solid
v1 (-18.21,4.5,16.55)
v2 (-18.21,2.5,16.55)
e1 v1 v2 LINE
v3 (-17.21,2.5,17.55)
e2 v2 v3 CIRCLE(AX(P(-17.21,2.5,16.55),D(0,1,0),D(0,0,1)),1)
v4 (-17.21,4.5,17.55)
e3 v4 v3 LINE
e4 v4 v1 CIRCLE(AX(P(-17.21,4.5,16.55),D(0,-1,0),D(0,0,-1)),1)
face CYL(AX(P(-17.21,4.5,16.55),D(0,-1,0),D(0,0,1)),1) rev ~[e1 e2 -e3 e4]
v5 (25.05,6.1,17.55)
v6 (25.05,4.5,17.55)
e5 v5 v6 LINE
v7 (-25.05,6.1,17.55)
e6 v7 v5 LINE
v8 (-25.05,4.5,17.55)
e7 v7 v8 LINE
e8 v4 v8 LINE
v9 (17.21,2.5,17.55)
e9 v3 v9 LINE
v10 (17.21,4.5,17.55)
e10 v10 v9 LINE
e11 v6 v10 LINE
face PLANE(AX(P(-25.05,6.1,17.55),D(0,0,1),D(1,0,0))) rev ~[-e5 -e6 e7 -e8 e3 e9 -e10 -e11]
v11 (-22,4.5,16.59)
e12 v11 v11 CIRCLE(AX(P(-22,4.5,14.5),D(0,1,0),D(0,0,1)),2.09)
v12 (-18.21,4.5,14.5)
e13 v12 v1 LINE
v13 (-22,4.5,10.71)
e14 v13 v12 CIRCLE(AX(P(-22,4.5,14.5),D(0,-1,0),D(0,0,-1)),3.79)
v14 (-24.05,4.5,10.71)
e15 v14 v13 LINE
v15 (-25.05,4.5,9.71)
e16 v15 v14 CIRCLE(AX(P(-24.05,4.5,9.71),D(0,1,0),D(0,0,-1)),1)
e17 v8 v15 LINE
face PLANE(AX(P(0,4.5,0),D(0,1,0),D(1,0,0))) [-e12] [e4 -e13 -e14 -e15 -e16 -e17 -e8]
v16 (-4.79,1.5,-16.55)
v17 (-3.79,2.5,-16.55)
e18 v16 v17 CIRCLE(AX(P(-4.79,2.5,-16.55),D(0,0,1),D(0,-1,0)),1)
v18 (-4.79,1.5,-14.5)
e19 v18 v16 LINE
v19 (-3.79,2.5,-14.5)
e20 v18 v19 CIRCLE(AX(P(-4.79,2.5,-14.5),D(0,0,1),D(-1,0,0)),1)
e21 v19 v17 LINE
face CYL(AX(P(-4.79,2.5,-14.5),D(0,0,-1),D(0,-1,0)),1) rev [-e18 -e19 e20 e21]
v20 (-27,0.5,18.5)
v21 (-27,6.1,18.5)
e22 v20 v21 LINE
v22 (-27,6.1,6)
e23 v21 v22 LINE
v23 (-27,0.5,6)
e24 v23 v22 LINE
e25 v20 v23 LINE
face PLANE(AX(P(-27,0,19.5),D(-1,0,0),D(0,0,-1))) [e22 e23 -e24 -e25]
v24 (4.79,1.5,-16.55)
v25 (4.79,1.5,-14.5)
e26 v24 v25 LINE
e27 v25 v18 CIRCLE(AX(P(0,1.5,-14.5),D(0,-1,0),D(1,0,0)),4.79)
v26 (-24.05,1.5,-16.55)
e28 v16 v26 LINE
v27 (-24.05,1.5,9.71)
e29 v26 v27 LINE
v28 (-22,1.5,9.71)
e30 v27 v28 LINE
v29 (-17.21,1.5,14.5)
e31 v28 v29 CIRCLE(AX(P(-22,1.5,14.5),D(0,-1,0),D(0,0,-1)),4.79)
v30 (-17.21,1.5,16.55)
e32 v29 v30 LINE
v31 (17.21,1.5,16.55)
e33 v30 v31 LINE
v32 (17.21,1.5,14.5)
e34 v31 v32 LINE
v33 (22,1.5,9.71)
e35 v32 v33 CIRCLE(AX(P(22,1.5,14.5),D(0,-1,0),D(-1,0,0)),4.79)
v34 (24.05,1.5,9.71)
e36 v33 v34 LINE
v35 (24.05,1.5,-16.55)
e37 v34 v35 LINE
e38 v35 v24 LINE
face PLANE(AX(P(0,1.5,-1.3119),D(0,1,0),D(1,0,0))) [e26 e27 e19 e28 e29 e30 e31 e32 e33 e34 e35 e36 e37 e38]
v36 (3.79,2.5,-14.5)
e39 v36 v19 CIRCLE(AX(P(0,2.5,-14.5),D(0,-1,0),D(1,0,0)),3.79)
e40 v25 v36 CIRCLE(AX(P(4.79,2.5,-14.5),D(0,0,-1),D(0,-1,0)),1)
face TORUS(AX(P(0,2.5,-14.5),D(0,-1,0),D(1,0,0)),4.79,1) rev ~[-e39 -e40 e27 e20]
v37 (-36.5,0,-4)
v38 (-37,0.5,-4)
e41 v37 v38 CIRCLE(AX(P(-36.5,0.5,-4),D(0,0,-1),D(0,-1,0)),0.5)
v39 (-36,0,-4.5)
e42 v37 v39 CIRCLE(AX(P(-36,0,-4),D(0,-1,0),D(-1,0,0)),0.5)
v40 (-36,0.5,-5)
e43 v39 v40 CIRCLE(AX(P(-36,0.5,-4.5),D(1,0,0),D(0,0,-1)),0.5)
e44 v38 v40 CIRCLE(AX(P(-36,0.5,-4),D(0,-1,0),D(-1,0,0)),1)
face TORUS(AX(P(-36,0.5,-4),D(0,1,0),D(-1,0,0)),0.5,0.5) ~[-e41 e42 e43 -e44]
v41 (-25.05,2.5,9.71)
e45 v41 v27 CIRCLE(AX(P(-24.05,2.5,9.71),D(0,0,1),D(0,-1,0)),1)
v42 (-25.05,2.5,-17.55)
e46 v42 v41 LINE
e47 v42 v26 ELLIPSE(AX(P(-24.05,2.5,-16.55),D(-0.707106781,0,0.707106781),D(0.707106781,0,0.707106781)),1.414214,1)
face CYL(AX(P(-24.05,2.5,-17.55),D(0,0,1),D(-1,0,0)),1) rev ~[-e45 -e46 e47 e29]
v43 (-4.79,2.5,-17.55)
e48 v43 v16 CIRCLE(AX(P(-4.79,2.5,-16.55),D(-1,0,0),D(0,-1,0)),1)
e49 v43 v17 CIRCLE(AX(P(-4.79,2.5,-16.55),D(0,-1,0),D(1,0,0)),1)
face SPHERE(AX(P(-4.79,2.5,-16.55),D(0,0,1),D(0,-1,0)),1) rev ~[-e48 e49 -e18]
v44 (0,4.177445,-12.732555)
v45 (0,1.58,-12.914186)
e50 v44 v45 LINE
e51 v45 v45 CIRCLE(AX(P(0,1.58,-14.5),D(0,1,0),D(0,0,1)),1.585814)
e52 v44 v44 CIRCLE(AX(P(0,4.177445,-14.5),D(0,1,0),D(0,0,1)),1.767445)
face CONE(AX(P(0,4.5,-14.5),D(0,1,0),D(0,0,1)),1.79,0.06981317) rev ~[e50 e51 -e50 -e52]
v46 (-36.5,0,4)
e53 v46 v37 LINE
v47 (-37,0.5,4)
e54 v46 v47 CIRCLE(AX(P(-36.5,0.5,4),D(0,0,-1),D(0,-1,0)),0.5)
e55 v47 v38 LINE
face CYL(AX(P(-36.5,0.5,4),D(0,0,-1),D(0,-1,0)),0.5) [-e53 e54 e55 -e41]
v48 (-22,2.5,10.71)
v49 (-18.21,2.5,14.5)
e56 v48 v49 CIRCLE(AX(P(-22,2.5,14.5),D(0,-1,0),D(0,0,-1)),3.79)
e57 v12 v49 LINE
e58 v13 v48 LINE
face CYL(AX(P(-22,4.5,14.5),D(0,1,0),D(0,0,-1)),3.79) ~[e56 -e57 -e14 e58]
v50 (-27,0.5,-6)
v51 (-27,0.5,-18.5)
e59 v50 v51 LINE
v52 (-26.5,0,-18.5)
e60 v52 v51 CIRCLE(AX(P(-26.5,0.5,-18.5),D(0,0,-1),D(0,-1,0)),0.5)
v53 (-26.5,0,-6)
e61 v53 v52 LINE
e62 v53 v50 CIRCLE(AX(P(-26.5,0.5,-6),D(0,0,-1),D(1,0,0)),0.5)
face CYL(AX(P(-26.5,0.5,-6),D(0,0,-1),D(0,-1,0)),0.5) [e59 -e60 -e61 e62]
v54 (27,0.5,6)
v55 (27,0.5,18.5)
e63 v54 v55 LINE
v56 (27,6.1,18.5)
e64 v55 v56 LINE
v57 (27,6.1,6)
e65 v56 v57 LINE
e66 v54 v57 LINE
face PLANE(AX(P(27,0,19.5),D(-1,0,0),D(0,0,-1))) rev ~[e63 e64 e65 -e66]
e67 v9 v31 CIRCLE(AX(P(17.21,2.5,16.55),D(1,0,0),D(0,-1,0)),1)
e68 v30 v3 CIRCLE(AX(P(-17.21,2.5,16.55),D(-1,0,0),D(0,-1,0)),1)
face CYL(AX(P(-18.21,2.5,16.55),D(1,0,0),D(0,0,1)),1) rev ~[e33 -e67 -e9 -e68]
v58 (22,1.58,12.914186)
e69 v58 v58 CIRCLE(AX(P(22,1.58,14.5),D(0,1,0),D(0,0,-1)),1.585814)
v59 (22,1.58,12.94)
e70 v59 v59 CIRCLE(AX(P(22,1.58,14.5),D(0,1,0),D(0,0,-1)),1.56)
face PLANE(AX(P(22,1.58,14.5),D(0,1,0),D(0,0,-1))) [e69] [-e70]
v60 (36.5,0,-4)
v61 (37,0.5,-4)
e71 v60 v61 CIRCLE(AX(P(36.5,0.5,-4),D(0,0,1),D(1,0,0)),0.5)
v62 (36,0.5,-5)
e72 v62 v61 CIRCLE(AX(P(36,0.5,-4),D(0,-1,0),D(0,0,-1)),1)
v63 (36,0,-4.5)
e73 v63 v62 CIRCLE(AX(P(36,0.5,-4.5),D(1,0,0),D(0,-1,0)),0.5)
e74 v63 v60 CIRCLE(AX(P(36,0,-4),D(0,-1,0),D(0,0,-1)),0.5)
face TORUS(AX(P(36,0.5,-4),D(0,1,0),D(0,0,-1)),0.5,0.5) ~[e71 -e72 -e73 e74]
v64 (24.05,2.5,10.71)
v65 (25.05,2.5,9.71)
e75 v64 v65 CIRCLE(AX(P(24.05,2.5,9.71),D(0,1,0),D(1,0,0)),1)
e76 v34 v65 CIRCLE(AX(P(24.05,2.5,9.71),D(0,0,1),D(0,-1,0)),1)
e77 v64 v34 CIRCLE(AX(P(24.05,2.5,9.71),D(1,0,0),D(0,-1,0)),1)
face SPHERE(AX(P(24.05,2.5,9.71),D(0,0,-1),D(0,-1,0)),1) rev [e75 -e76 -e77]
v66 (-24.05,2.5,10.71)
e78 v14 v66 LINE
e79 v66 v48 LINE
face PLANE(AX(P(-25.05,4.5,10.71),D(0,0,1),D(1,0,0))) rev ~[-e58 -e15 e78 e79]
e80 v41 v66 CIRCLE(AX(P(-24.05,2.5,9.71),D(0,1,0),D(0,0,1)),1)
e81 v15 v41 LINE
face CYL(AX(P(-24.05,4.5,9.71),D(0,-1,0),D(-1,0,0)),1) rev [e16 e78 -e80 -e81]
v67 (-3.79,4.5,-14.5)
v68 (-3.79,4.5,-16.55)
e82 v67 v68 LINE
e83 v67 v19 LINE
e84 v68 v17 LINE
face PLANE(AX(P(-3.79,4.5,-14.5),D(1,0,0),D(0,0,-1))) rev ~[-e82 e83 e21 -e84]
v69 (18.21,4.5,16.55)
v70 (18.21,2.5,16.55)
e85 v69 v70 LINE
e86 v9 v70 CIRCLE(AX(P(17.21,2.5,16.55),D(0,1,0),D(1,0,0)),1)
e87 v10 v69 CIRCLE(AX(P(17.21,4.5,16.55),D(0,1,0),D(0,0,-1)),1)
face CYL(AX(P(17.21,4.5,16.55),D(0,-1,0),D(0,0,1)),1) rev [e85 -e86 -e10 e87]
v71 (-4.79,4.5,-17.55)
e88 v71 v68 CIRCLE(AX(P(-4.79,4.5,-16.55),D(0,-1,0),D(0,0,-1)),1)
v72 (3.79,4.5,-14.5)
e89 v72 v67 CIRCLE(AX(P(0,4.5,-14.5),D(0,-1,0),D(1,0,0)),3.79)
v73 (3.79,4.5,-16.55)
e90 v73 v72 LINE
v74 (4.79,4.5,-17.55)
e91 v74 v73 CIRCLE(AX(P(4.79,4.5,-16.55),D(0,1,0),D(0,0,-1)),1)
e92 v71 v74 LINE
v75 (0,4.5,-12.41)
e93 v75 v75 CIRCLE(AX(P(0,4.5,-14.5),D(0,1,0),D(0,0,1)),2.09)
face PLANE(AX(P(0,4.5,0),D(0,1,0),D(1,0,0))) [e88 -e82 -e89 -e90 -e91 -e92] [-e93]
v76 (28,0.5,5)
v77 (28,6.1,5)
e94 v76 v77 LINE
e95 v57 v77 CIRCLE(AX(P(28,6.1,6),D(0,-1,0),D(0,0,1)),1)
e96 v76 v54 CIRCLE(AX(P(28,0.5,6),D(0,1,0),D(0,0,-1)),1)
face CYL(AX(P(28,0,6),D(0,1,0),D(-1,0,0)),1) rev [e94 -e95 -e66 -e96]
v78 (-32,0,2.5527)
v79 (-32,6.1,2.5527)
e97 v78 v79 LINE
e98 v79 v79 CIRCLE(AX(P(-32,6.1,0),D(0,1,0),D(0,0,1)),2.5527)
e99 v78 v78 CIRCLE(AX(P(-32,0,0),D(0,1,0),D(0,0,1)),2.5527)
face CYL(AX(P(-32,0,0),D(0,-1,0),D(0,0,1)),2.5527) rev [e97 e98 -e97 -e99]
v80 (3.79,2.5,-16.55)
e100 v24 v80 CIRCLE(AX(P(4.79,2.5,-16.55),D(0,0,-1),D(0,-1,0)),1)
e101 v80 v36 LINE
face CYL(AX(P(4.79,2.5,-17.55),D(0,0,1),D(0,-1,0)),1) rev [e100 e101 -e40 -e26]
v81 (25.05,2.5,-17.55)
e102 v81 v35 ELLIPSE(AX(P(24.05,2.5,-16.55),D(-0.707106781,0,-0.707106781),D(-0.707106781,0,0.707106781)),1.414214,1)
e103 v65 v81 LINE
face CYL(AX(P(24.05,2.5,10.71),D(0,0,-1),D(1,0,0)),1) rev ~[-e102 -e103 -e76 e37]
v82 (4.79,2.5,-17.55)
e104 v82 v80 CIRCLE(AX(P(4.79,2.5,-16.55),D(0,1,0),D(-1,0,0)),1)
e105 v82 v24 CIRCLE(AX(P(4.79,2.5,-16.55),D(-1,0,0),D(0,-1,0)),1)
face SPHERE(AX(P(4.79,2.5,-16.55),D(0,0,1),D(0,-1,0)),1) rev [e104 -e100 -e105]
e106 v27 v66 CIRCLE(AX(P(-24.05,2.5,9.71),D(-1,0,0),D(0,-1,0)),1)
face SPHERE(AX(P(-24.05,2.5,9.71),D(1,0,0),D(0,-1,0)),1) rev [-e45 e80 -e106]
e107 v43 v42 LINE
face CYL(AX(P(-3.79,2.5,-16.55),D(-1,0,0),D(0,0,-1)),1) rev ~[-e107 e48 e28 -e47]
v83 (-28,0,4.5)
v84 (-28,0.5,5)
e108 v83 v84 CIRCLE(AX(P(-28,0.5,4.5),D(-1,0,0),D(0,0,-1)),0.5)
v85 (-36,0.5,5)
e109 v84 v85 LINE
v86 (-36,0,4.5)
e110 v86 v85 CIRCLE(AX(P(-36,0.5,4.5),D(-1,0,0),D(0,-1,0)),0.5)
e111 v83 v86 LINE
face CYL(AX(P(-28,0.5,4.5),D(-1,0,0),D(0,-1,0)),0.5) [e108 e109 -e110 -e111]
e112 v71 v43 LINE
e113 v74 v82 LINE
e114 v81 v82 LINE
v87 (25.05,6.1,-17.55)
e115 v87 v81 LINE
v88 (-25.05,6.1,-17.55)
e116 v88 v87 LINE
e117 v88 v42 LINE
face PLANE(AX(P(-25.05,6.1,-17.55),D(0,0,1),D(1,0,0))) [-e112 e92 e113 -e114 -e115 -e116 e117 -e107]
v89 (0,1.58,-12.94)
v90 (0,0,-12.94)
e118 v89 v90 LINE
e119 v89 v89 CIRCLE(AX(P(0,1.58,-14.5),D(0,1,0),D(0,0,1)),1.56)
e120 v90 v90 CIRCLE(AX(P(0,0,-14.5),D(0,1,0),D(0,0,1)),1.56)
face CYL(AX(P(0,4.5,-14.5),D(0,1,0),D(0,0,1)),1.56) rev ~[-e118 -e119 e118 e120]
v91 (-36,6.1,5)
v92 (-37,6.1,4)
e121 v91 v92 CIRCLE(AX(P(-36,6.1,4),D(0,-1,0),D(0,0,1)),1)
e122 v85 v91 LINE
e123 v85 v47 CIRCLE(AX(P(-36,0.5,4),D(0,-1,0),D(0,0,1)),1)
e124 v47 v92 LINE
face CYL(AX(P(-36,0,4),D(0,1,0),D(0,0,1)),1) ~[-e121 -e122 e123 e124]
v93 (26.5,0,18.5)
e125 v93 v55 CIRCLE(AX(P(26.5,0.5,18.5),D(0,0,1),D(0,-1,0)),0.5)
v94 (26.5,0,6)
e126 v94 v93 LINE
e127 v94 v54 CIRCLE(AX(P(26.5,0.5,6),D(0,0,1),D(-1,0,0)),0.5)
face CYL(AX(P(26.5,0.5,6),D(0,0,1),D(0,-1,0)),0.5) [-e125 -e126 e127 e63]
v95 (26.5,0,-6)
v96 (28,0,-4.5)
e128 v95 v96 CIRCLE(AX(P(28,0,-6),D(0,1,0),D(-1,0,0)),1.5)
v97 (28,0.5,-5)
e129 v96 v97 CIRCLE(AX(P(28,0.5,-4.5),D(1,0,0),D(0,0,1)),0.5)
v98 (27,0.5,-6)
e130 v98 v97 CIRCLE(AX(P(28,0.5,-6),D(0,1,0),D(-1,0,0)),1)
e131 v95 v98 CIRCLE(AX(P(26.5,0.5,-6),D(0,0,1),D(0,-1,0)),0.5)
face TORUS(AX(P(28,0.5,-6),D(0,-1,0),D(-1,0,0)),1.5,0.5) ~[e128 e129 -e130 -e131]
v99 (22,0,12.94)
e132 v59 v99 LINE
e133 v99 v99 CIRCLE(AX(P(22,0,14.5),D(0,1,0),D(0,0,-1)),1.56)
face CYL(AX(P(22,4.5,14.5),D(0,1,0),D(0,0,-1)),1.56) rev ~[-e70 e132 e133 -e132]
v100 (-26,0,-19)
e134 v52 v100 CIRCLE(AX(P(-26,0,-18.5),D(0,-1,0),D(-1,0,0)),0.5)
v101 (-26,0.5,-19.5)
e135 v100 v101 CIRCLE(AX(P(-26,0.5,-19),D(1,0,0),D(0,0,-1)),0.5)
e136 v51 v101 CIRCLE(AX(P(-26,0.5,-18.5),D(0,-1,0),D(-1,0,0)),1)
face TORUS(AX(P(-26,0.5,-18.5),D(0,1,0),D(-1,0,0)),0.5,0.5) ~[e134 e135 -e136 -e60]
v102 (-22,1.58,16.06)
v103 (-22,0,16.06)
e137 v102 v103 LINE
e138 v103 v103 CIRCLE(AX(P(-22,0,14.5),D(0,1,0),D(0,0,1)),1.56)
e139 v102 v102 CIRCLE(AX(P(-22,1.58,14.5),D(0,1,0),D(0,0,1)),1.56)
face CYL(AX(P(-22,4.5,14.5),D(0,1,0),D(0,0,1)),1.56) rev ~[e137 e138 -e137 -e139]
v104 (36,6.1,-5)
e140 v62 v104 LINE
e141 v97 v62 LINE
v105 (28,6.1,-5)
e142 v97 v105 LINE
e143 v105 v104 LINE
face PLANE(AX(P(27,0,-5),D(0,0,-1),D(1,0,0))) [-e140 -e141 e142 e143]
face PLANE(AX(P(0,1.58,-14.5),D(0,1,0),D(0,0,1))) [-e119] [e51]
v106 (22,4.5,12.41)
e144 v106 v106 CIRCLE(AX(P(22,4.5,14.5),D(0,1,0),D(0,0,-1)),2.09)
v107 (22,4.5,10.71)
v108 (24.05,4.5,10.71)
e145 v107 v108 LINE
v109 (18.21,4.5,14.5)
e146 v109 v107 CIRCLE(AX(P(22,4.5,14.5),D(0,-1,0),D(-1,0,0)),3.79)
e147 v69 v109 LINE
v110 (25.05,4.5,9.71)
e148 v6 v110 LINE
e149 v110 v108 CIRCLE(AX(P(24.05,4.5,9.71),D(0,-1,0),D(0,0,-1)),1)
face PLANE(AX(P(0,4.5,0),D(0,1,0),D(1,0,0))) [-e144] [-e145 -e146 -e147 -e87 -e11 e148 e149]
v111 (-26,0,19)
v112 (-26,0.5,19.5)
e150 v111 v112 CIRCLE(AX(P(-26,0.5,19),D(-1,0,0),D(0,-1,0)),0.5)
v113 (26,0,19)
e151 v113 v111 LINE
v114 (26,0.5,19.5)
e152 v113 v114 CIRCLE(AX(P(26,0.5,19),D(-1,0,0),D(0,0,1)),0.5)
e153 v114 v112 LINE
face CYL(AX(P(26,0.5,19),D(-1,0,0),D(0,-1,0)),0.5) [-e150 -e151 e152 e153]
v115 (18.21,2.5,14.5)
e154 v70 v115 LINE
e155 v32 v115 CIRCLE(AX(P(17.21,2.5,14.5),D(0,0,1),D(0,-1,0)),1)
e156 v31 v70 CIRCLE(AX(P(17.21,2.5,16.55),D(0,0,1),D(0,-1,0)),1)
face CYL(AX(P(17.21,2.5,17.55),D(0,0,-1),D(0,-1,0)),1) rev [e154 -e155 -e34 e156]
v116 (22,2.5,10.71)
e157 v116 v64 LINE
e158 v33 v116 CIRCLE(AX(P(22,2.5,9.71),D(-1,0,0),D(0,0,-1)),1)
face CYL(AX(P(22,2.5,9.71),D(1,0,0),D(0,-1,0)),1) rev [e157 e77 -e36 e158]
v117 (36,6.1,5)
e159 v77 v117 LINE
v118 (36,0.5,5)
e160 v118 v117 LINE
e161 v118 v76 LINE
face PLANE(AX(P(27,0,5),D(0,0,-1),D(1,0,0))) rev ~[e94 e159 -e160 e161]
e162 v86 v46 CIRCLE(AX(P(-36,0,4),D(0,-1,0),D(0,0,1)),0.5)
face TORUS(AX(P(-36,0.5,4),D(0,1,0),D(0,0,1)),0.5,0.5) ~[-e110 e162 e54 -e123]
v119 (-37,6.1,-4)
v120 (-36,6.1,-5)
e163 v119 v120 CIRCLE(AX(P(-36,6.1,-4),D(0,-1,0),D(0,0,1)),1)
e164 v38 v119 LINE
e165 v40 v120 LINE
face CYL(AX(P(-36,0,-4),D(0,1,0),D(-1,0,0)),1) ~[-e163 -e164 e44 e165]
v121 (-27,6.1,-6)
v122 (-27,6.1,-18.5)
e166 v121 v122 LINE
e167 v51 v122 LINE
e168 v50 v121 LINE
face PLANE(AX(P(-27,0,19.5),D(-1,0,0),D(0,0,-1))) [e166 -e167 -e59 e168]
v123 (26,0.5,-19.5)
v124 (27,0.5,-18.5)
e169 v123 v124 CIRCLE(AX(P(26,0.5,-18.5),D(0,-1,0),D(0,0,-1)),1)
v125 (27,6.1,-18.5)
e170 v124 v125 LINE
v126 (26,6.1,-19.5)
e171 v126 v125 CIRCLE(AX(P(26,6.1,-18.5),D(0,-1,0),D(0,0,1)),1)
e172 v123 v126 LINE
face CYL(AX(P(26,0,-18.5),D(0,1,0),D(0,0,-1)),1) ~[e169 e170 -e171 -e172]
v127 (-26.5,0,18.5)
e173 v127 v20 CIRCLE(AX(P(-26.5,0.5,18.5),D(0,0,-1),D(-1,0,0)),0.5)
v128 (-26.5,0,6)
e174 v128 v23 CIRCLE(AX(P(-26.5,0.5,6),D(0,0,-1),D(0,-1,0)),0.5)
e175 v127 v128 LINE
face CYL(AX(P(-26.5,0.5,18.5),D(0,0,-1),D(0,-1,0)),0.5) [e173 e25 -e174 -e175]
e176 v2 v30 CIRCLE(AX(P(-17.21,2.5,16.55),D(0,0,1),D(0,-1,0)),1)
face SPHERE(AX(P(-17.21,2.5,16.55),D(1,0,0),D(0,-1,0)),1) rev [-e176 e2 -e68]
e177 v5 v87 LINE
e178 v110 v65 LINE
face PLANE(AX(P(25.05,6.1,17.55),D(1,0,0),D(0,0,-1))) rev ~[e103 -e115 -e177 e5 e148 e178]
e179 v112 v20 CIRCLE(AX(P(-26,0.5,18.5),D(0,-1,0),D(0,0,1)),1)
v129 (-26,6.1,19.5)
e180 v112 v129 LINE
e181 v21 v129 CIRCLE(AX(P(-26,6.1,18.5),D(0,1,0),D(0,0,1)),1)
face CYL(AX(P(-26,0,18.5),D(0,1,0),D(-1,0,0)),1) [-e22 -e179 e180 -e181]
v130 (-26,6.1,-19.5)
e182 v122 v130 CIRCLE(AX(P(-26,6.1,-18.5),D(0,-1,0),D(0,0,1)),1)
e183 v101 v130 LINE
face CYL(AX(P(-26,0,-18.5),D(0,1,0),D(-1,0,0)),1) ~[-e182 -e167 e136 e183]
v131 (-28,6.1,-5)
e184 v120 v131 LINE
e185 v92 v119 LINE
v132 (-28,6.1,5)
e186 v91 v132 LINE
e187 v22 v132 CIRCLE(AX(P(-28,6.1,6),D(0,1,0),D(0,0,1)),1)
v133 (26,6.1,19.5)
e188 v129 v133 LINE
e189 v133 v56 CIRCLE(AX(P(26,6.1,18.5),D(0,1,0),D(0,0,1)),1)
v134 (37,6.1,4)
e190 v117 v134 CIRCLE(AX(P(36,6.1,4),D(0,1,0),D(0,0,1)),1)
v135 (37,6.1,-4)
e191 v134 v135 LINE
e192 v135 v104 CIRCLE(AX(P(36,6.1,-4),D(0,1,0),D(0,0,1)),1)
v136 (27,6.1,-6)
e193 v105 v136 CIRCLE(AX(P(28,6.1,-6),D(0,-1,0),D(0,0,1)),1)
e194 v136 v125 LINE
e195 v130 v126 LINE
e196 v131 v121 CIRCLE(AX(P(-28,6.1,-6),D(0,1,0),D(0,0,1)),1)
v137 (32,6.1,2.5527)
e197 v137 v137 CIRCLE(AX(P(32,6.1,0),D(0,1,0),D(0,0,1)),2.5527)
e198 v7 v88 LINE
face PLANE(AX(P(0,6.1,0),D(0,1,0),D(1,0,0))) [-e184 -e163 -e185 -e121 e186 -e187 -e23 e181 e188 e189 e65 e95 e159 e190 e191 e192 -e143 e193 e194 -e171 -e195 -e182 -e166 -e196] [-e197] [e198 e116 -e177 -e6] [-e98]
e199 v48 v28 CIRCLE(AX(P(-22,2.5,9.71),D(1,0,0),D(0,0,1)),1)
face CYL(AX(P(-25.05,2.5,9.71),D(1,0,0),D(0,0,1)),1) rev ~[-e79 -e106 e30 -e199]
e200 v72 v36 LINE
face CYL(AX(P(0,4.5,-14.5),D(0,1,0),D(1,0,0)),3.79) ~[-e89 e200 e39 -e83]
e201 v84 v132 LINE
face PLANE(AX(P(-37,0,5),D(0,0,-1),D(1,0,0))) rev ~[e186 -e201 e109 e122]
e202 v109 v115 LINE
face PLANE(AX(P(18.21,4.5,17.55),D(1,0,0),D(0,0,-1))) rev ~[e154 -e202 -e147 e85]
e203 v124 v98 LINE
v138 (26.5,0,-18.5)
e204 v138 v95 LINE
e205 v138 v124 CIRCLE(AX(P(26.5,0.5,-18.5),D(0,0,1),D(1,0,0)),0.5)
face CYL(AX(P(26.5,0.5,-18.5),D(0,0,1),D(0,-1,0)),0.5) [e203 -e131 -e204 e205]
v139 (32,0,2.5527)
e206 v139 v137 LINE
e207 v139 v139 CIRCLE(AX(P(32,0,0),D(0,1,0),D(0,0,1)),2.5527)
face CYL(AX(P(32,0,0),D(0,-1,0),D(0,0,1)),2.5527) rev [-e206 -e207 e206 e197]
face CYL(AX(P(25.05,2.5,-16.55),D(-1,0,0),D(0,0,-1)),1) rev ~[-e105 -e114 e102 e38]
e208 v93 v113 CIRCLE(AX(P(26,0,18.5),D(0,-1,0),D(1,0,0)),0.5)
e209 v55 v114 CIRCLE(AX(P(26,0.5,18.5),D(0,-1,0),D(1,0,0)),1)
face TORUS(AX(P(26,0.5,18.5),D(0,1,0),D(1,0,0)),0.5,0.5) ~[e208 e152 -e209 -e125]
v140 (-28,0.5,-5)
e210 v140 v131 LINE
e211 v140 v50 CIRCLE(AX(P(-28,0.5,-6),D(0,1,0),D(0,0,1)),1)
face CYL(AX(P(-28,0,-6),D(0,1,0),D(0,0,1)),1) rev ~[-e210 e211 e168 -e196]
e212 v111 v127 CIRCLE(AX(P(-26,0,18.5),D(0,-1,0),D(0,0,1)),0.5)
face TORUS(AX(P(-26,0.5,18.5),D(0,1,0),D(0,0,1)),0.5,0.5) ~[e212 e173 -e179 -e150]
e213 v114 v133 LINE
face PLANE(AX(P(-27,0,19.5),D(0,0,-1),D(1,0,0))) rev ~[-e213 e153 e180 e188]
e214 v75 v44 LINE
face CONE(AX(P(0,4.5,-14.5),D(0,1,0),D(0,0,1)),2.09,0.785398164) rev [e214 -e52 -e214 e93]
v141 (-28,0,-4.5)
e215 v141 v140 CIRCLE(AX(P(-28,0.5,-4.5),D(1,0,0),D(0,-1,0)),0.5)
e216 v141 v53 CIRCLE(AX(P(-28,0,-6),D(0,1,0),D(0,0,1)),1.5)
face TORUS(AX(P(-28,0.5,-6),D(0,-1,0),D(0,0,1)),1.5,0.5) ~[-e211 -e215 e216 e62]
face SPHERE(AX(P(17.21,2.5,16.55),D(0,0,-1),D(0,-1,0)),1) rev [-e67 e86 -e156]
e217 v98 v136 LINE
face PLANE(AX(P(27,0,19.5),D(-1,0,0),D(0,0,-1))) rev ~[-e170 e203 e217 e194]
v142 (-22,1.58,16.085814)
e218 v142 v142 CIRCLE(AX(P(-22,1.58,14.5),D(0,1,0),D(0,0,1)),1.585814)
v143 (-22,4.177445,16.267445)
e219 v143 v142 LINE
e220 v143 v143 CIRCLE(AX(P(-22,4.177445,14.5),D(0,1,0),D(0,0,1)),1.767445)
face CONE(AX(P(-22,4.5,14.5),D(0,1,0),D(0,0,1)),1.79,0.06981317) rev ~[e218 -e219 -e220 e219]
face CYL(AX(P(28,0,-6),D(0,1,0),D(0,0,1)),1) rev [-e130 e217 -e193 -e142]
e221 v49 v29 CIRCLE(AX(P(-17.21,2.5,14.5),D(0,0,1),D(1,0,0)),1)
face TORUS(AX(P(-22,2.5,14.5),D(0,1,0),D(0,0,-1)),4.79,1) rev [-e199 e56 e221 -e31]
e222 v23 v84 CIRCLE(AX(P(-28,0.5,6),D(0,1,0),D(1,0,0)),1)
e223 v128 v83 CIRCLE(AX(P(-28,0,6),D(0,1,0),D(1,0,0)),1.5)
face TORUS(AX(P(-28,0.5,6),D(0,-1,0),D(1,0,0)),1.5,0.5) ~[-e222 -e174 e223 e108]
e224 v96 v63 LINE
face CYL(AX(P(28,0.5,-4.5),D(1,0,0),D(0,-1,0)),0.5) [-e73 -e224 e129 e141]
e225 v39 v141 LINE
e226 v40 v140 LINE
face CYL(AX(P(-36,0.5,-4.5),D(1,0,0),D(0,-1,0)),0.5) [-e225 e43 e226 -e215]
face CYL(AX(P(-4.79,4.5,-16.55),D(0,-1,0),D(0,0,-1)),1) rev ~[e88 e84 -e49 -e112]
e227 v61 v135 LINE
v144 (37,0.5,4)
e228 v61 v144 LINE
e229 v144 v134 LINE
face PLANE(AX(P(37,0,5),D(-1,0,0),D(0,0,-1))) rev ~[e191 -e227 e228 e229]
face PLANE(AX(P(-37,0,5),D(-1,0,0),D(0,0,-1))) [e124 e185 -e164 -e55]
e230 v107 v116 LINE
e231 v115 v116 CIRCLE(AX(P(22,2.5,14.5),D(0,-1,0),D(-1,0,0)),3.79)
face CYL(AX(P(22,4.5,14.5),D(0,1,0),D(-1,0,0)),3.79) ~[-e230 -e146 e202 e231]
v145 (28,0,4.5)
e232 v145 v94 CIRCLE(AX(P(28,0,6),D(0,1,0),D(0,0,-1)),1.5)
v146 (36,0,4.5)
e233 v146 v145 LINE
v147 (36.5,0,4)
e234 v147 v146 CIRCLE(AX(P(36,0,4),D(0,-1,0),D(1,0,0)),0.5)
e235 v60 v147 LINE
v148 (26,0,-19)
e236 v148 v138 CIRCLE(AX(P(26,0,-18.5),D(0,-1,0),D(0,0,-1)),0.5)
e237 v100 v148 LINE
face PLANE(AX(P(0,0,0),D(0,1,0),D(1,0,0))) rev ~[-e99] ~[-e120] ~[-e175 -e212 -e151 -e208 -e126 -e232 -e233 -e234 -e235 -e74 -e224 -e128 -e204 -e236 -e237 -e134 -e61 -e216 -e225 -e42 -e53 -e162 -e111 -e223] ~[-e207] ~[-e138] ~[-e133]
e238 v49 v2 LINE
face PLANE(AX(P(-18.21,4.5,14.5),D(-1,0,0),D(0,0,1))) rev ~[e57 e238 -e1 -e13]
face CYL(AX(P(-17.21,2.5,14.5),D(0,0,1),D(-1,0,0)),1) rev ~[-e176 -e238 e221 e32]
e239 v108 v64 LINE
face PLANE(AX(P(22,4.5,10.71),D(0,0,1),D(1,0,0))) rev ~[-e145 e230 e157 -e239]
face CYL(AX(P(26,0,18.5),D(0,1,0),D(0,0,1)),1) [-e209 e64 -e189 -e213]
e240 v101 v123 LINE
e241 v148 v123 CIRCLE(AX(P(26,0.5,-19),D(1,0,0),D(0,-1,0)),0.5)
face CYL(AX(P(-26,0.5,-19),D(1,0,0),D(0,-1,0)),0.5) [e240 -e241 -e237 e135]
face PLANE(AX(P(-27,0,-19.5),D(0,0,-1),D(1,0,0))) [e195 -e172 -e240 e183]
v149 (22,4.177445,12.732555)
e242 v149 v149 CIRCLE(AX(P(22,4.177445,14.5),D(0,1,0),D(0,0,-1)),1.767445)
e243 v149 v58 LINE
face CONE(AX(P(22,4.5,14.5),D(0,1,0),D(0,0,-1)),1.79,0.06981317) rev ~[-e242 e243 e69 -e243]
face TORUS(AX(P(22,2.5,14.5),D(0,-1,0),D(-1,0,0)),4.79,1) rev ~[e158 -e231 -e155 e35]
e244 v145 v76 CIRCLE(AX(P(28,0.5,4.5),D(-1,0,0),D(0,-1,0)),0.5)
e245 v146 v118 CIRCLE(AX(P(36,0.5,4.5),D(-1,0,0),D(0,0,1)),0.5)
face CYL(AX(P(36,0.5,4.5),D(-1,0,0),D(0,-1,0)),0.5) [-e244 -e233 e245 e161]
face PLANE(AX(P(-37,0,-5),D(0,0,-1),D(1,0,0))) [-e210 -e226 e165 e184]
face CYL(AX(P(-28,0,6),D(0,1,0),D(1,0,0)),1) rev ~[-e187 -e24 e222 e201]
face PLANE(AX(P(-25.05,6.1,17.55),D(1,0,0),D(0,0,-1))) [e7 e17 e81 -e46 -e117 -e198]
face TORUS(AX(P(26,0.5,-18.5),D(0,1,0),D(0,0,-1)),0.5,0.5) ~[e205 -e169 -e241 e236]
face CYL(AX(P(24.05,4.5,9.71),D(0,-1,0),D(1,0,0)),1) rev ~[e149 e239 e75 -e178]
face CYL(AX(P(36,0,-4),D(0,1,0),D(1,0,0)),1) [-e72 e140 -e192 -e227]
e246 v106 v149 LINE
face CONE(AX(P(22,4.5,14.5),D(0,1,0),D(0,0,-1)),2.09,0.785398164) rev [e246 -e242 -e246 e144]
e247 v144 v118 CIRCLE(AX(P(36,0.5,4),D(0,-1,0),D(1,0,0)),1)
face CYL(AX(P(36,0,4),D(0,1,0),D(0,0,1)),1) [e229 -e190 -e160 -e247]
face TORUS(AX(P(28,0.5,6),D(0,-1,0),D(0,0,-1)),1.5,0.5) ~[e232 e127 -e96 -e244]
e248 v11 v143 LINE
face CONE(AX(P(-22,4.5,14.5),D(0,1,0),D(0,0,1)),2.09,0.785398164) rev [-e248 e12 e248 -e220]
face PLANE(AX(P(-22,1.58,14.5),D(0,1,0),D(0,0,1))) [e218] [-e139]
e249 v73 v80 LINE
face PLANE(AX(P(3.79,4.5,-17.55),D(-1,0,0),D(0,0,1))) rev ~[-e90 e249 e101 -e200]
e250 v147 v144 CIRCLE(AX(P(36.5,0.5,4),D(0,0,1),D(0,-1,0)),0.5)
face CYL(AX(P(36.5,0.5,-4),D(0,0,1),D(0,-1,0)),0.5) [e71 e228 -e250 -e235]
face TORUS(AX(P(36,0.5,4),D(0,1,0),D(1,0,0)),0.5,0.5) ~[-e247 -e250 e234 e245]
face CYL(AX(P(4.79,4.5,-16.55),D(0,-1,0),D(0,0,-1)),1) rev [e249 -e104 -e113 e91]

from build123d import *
from OCP.BRepFilletAPI import BRepFilletAPI_MakeChamfer

# Parameters (mm, degrees)
SKETCH1_W           = 54
SKETCH1_H           = 39
SKETCH1_W_2         = 10
SKETCH1_H_2         = 10
SKETCH1_R           = 2.5527
BOSS_EXTRUDE1_DEPTH = 6.1
SKETCH2_W           = 50.1
SKETCH2_H           = 35.1
CUT_EXTRUDE1_DEPTH  = 1.6
CUT_EXTRUDE2_DEPTH  = 3
SKETCH4_R           = 1.56
CUT_EXTRUDE3_DEPTH  = 43.065425233
SKETCH5_R           = 1.79
CUT_EXTRUDE4_DEPTH  = 2.92
DRAFT2_ANGLE        = 4
DRAFT3_ANGLE        = 4
DRAFT4_ANGLE        = 4
FILLET1_R           = 1
FILLET2_R           = 1
FILLET3_R           = 0.5
CHAMFER1_SIZE       = 0.3
CHAMFER1_SIZE2      = 0.323342908


with BuildPart() as part:
    # Sketch1 → Boss-Extrude1 (new body)
    # profile 1 of 3: a face of its own
    with BuildSketch(Plane(origin=(0, 0, 0), x_dir=(1, 0, 0), z_dir=(0, 1, 0))):
        Rectangle(SKETCH1_W, SKETCH1_H)
    # profile 2 of 3: a face of its own
    with BuildSketch(Plane(origin=(0, 0, 0), x_dir=(1, 0, 0), z_dir=(0, 1, 0))):
        with Locations((32, 0)):
            Rectangle(SKETCH1_W_2, SKETCH1_H_2)
        with Locations(Location((32, 0, 0), (0, 0, 270))):
            Circle(SKETCH1_R, mode=Mode.SUBTRACT)
    # profile 3 of 3: a face of its own
    with BuildSketch(Plane(origin=(0, 0, 0), x_dir=(1, 0, 0), z_dir=(0, 1, 0))):
        with Locations((-32, 0)):
            Rectangle(SKETCH1_W_2, SKETCH1_H_2)
        with Locations(Location((-32, 0, 0), (0, 0, 270))):
            Circle(SKETCH1_R, mode=Mode.SUBTRACT)
    extrude(amount=BOSS_EXTRUDE1_DEPTH)

    # Sketch2 → Cut-Extrude1 (cut)
    with BuildSketch(Plane(origin=(0, 6.1, 0), x_dir=(1, 0, 0), z_dir=(0, 1, 0))):
        Rectangle(SKETCH2_W, SKETCH2_H)
    extrude(amount=-CUT_EXTRUDE1_DEPTH, mode=Mode.SUBTRACT)

    # Sketch3 → Cut-Extrude2 (cut)
    with BuildSketch(Plane(origin=(0, 4.5, 0), x_dir=(1, 0, 0), z_dir=(0, 1, 0))):
        with BuildLine():
            Line((-3.79, 14.5), (-3.79, 17.55))
            Line((-3.79, 17.55), (-25.05, 17.55))
            Line((-25.05, 17.55), (-25.05, -10.71))
            Line((-25.05, -10.71), (-22, -10.71))
            ThreePointArc((-22, -10.71), (-19.320065299, -11.820065299), (-18.21, -14.5))
            Line((-18.21, -14.5), (-18.21, -17.55))
            Line((-18.21, -17.55), (18.21, -17.55))
            Line((18.21, -17.55), (18.21, -14.5))
            ThreePointArc((18.21, -14.5), (19.320065299, -11.820065299), (22, -10.71))
            Line((22, -10.71), (25.05, -10.71))
            Line((25.05, -10.71), (25.05, 17.55))
            Line((25.05, 17.55), (3.79, 17.55))
            Line((3.79, 17.55), (3.79, 14.5))
            ThreePointArc((3.79, 14.5), (0, 10.71), (-3.79, 14.5))
        make_face()
    extrude(amount=-CUT_EXTRUDE2_DEPTH, mode=Mode.SUBTRACT)

    # Sketch4 → Cut-Extrude3 (cut, through all)
    with BuildSketch(Plane(origin=(0, 4.5, 0), x_dir=(1, 0, 0), z_dir=(0, 1, 0))):
        with Locations(Location((0, 14.5, 0), (0, 0, 270))):
            Circle(SKETCH4_R)
        with Locations(Location((-22, -14.5, 0), (0, 0, 270))):
            Circle(SKETCH4_R)
        with Locations(Location((22, -14.5, 0), (0, 0, 90))):
            Circle(SKETCH4_R)
    extrude(amount=-CUT_EXTRUDE3_DEPTH, mode=Mode.SUBTRACT)

    # Sketch5 → Cut-Extrude4 (cut)
    with BuildSketch(Plane(origin=(0, 4.5, 0), x_dir=(1, 0, 0), z_dir=(0, 1, 0))):
        with Locations(Location((0, 14.5, 0), (0, 0, 270))):
            Circle(SKETCH5_R)
        with Locations(Location((-22, -14.5, 0), (0, 0, 270))):
            Circle(SKETCH5_R)
        with Locations(Location((22, -14.5, 0), (0, 0, 90))):
            Circle(SKETCH5_R)
    extrude(amount=-CUT_EXTRUDE4_DEPTH, mode=Mode.SUBTRACT)

    # Draft2
    draft2_faces = [part.faces().sort_by_distance(p)[0] for p in [
        (0, 3.04, -16.29),
    ]]
    draft(draft2_faces, Plane.ZX.offset(4.5), DRAFT2_ANGLE)

    # Draft3
    draft3_faces = [part.faces().sort_by_distance(p)[0] for p in [
        (-22, 3.04, 12.71),
    ]]
    draft(draft3_faces, Plane.ZX.offset(4.5), DRAFT3_ANGLE)

    # Draft4
    draft4_faces = [part.faces().sort_by_distance(p)[0] for p in [
        (22, 3.04, 16.29),
    ]]
    draft(draft4_faces, Plane.ZX.offset(4.5), DRAFT4_ANGLE)

    # Fillet1
    fillet1_edges = [part.edges().sort_by_distance(p)[0] for p in [
        (-27, 3.05, 19.5),
        (-27, 3.05, 5),
        (-37, 3.05, 5),
        (-37, 3.05, -5),
        (-27, 3.05, -5),
        (-27, 3.05, -19.5),
        (27, 3.05, -19.5),
        (27, 3.05, -5),
        (37, 3.05, -5),
        (37, 3.05, 5),
        (27, 3.05, 5),
        (27, 3.05, 19.5),
    ]]
    fillet(fillet1_edges, radius=FILLET1_R)

    # Fillet2
    fillet2_edges = [part.edges().sort_by_distance(p)[0] for p in [
        (0, 1.5, -10.71),
        (3.79, 1.5, -16.025),
        (14.42, 1.5, -17.55),
        (3.79, 3, -17.55),
        (25.05, 1.5, -3.42),
        (23.525, 1.5, 10.71),
        (25.05, 3, 10.71),
        (19.320065299, 1.5, 11.820065299),
        (18.21, 1.5, 16.025),
        (0, 1.5, 17.55),
        (18.21, 3, 17.55),
        (-18.21, 1.5, 16.025),
        (-18.21, 3, 17.55),
        (-19.320065299, 1.5, 11.820065299),
        (-23.525, 1.5, 10.71),
        (-25.05, 1.5, -3.42),
        (-25.05, 3, 10.71),
        (-14.42, 1.5, -17.55),
        (-3.79, 1.5, -16.025),
        (-3.79, 3, -17.55),
    ]]
    fillet(fillet2_edges, radius=FILLET2_R)

    # Fillet3
    fillet3_edges = [part.edges().sort_by_distance(p)[0] for p in [
        (-37, 0, 0),
        (0, 0, 19.5),
        (-27, 0, 12.25),
        (-32, 0, 5),
        (-32, 0, -5),
        (-27, 0, -12.25),
        (0, 0, -19.5),
        (27, 0, -12.25),
        (32, 0, -5),
        (37, 0, 0),
        (32, 0, 5),
        (27, 0, 12.25),
        (-36.707106781, 0, 4.707106781),
        (-26.707106781, 0, 19.207106781),
        (26.707106781, 0, 19.207106781),
        (36.707106781, 0, 4.707106781),
        (36.707106781, 0, -4.707106781),
        (26.707106781, 0, -19.207106781),
        (-26.707106781, 0, -19.207106781),
        (-36.707106781, 0, -4.707106781),
        (-27.292893219, 0, -5.292893219),
        (27.292893219, 0, -5.292893219),
        (27.292893219, 0, 5.292893219),
        (-27.292893219, 0, 5.292893219),
    ]]
    fillet(fillet3_edges, radius=FILLET3_R)

    # Chamfer1: one chamfer whose edges measure the first distance from different faces: ONE call of the kernel's chamfer builder (chamfer() names one face for all edges)
    chamfer1_edges_1 = [part.edges().sort_by_distance(p)[0] for p in [
        (0, 4.5, -16.29),
    ]]
    chamfer1_side_1 = [part.faces().sort_by_distance(p)[0] for p in [
        (3.672287639, 4.5, -15.525),
    ]]
    chamfer1_edges_2 = [part.edges().sort_by_distance(p)[0] for p in [
        (-22, 4.5, 12.71),
    ]]
    chamfer1_side_2 = [part.faces().sort_by_distance(p)[0] for p in [
        (-23.025, 4.5, 10.820874343),
    ]]
    chamfer1_edges_3 = [part.edges().sort_by_distance(p)[0] for p in [
        (22, 4.5, 16.29),
    ]]
    chamfer1_side_3 = [part.faces().sort_by_distance(p)[0] for p in [
        (18.320874343, 4.5, 15.525),
    ]]
    chamfer1 = BRepFilletAPI_MakeChamfer(part.part.solid().wrapped)
    for e in chamfer1_edges_1:
        chamfer1.Add(CHAMFER1_SIZE, CHAMFER1_SIZE2, e.wrapped, chamfer1_side_1[0].wrapped)  # the first distance lies on this face
    for e in chamfer1_edges_2:
        chamfer1.Add(CHAMFER1_SIZE, CHAMFER1_SIZE2, e.wrapped, chamfer1_side_2[0].wrapped)  # the first distance lies on this face
    for e in chamfer1_edges_3:
        chamfer1.Add(CHAMFER1_SIZE, CHAMFER1_SIZE2, e.wrapped, chamfer1_side_3[0].wrapped)  # the first distance lies on this face
    add(Compound.cast(chamfer1.Shape()), mode=Mode.REPLACE)


solid = part.part
